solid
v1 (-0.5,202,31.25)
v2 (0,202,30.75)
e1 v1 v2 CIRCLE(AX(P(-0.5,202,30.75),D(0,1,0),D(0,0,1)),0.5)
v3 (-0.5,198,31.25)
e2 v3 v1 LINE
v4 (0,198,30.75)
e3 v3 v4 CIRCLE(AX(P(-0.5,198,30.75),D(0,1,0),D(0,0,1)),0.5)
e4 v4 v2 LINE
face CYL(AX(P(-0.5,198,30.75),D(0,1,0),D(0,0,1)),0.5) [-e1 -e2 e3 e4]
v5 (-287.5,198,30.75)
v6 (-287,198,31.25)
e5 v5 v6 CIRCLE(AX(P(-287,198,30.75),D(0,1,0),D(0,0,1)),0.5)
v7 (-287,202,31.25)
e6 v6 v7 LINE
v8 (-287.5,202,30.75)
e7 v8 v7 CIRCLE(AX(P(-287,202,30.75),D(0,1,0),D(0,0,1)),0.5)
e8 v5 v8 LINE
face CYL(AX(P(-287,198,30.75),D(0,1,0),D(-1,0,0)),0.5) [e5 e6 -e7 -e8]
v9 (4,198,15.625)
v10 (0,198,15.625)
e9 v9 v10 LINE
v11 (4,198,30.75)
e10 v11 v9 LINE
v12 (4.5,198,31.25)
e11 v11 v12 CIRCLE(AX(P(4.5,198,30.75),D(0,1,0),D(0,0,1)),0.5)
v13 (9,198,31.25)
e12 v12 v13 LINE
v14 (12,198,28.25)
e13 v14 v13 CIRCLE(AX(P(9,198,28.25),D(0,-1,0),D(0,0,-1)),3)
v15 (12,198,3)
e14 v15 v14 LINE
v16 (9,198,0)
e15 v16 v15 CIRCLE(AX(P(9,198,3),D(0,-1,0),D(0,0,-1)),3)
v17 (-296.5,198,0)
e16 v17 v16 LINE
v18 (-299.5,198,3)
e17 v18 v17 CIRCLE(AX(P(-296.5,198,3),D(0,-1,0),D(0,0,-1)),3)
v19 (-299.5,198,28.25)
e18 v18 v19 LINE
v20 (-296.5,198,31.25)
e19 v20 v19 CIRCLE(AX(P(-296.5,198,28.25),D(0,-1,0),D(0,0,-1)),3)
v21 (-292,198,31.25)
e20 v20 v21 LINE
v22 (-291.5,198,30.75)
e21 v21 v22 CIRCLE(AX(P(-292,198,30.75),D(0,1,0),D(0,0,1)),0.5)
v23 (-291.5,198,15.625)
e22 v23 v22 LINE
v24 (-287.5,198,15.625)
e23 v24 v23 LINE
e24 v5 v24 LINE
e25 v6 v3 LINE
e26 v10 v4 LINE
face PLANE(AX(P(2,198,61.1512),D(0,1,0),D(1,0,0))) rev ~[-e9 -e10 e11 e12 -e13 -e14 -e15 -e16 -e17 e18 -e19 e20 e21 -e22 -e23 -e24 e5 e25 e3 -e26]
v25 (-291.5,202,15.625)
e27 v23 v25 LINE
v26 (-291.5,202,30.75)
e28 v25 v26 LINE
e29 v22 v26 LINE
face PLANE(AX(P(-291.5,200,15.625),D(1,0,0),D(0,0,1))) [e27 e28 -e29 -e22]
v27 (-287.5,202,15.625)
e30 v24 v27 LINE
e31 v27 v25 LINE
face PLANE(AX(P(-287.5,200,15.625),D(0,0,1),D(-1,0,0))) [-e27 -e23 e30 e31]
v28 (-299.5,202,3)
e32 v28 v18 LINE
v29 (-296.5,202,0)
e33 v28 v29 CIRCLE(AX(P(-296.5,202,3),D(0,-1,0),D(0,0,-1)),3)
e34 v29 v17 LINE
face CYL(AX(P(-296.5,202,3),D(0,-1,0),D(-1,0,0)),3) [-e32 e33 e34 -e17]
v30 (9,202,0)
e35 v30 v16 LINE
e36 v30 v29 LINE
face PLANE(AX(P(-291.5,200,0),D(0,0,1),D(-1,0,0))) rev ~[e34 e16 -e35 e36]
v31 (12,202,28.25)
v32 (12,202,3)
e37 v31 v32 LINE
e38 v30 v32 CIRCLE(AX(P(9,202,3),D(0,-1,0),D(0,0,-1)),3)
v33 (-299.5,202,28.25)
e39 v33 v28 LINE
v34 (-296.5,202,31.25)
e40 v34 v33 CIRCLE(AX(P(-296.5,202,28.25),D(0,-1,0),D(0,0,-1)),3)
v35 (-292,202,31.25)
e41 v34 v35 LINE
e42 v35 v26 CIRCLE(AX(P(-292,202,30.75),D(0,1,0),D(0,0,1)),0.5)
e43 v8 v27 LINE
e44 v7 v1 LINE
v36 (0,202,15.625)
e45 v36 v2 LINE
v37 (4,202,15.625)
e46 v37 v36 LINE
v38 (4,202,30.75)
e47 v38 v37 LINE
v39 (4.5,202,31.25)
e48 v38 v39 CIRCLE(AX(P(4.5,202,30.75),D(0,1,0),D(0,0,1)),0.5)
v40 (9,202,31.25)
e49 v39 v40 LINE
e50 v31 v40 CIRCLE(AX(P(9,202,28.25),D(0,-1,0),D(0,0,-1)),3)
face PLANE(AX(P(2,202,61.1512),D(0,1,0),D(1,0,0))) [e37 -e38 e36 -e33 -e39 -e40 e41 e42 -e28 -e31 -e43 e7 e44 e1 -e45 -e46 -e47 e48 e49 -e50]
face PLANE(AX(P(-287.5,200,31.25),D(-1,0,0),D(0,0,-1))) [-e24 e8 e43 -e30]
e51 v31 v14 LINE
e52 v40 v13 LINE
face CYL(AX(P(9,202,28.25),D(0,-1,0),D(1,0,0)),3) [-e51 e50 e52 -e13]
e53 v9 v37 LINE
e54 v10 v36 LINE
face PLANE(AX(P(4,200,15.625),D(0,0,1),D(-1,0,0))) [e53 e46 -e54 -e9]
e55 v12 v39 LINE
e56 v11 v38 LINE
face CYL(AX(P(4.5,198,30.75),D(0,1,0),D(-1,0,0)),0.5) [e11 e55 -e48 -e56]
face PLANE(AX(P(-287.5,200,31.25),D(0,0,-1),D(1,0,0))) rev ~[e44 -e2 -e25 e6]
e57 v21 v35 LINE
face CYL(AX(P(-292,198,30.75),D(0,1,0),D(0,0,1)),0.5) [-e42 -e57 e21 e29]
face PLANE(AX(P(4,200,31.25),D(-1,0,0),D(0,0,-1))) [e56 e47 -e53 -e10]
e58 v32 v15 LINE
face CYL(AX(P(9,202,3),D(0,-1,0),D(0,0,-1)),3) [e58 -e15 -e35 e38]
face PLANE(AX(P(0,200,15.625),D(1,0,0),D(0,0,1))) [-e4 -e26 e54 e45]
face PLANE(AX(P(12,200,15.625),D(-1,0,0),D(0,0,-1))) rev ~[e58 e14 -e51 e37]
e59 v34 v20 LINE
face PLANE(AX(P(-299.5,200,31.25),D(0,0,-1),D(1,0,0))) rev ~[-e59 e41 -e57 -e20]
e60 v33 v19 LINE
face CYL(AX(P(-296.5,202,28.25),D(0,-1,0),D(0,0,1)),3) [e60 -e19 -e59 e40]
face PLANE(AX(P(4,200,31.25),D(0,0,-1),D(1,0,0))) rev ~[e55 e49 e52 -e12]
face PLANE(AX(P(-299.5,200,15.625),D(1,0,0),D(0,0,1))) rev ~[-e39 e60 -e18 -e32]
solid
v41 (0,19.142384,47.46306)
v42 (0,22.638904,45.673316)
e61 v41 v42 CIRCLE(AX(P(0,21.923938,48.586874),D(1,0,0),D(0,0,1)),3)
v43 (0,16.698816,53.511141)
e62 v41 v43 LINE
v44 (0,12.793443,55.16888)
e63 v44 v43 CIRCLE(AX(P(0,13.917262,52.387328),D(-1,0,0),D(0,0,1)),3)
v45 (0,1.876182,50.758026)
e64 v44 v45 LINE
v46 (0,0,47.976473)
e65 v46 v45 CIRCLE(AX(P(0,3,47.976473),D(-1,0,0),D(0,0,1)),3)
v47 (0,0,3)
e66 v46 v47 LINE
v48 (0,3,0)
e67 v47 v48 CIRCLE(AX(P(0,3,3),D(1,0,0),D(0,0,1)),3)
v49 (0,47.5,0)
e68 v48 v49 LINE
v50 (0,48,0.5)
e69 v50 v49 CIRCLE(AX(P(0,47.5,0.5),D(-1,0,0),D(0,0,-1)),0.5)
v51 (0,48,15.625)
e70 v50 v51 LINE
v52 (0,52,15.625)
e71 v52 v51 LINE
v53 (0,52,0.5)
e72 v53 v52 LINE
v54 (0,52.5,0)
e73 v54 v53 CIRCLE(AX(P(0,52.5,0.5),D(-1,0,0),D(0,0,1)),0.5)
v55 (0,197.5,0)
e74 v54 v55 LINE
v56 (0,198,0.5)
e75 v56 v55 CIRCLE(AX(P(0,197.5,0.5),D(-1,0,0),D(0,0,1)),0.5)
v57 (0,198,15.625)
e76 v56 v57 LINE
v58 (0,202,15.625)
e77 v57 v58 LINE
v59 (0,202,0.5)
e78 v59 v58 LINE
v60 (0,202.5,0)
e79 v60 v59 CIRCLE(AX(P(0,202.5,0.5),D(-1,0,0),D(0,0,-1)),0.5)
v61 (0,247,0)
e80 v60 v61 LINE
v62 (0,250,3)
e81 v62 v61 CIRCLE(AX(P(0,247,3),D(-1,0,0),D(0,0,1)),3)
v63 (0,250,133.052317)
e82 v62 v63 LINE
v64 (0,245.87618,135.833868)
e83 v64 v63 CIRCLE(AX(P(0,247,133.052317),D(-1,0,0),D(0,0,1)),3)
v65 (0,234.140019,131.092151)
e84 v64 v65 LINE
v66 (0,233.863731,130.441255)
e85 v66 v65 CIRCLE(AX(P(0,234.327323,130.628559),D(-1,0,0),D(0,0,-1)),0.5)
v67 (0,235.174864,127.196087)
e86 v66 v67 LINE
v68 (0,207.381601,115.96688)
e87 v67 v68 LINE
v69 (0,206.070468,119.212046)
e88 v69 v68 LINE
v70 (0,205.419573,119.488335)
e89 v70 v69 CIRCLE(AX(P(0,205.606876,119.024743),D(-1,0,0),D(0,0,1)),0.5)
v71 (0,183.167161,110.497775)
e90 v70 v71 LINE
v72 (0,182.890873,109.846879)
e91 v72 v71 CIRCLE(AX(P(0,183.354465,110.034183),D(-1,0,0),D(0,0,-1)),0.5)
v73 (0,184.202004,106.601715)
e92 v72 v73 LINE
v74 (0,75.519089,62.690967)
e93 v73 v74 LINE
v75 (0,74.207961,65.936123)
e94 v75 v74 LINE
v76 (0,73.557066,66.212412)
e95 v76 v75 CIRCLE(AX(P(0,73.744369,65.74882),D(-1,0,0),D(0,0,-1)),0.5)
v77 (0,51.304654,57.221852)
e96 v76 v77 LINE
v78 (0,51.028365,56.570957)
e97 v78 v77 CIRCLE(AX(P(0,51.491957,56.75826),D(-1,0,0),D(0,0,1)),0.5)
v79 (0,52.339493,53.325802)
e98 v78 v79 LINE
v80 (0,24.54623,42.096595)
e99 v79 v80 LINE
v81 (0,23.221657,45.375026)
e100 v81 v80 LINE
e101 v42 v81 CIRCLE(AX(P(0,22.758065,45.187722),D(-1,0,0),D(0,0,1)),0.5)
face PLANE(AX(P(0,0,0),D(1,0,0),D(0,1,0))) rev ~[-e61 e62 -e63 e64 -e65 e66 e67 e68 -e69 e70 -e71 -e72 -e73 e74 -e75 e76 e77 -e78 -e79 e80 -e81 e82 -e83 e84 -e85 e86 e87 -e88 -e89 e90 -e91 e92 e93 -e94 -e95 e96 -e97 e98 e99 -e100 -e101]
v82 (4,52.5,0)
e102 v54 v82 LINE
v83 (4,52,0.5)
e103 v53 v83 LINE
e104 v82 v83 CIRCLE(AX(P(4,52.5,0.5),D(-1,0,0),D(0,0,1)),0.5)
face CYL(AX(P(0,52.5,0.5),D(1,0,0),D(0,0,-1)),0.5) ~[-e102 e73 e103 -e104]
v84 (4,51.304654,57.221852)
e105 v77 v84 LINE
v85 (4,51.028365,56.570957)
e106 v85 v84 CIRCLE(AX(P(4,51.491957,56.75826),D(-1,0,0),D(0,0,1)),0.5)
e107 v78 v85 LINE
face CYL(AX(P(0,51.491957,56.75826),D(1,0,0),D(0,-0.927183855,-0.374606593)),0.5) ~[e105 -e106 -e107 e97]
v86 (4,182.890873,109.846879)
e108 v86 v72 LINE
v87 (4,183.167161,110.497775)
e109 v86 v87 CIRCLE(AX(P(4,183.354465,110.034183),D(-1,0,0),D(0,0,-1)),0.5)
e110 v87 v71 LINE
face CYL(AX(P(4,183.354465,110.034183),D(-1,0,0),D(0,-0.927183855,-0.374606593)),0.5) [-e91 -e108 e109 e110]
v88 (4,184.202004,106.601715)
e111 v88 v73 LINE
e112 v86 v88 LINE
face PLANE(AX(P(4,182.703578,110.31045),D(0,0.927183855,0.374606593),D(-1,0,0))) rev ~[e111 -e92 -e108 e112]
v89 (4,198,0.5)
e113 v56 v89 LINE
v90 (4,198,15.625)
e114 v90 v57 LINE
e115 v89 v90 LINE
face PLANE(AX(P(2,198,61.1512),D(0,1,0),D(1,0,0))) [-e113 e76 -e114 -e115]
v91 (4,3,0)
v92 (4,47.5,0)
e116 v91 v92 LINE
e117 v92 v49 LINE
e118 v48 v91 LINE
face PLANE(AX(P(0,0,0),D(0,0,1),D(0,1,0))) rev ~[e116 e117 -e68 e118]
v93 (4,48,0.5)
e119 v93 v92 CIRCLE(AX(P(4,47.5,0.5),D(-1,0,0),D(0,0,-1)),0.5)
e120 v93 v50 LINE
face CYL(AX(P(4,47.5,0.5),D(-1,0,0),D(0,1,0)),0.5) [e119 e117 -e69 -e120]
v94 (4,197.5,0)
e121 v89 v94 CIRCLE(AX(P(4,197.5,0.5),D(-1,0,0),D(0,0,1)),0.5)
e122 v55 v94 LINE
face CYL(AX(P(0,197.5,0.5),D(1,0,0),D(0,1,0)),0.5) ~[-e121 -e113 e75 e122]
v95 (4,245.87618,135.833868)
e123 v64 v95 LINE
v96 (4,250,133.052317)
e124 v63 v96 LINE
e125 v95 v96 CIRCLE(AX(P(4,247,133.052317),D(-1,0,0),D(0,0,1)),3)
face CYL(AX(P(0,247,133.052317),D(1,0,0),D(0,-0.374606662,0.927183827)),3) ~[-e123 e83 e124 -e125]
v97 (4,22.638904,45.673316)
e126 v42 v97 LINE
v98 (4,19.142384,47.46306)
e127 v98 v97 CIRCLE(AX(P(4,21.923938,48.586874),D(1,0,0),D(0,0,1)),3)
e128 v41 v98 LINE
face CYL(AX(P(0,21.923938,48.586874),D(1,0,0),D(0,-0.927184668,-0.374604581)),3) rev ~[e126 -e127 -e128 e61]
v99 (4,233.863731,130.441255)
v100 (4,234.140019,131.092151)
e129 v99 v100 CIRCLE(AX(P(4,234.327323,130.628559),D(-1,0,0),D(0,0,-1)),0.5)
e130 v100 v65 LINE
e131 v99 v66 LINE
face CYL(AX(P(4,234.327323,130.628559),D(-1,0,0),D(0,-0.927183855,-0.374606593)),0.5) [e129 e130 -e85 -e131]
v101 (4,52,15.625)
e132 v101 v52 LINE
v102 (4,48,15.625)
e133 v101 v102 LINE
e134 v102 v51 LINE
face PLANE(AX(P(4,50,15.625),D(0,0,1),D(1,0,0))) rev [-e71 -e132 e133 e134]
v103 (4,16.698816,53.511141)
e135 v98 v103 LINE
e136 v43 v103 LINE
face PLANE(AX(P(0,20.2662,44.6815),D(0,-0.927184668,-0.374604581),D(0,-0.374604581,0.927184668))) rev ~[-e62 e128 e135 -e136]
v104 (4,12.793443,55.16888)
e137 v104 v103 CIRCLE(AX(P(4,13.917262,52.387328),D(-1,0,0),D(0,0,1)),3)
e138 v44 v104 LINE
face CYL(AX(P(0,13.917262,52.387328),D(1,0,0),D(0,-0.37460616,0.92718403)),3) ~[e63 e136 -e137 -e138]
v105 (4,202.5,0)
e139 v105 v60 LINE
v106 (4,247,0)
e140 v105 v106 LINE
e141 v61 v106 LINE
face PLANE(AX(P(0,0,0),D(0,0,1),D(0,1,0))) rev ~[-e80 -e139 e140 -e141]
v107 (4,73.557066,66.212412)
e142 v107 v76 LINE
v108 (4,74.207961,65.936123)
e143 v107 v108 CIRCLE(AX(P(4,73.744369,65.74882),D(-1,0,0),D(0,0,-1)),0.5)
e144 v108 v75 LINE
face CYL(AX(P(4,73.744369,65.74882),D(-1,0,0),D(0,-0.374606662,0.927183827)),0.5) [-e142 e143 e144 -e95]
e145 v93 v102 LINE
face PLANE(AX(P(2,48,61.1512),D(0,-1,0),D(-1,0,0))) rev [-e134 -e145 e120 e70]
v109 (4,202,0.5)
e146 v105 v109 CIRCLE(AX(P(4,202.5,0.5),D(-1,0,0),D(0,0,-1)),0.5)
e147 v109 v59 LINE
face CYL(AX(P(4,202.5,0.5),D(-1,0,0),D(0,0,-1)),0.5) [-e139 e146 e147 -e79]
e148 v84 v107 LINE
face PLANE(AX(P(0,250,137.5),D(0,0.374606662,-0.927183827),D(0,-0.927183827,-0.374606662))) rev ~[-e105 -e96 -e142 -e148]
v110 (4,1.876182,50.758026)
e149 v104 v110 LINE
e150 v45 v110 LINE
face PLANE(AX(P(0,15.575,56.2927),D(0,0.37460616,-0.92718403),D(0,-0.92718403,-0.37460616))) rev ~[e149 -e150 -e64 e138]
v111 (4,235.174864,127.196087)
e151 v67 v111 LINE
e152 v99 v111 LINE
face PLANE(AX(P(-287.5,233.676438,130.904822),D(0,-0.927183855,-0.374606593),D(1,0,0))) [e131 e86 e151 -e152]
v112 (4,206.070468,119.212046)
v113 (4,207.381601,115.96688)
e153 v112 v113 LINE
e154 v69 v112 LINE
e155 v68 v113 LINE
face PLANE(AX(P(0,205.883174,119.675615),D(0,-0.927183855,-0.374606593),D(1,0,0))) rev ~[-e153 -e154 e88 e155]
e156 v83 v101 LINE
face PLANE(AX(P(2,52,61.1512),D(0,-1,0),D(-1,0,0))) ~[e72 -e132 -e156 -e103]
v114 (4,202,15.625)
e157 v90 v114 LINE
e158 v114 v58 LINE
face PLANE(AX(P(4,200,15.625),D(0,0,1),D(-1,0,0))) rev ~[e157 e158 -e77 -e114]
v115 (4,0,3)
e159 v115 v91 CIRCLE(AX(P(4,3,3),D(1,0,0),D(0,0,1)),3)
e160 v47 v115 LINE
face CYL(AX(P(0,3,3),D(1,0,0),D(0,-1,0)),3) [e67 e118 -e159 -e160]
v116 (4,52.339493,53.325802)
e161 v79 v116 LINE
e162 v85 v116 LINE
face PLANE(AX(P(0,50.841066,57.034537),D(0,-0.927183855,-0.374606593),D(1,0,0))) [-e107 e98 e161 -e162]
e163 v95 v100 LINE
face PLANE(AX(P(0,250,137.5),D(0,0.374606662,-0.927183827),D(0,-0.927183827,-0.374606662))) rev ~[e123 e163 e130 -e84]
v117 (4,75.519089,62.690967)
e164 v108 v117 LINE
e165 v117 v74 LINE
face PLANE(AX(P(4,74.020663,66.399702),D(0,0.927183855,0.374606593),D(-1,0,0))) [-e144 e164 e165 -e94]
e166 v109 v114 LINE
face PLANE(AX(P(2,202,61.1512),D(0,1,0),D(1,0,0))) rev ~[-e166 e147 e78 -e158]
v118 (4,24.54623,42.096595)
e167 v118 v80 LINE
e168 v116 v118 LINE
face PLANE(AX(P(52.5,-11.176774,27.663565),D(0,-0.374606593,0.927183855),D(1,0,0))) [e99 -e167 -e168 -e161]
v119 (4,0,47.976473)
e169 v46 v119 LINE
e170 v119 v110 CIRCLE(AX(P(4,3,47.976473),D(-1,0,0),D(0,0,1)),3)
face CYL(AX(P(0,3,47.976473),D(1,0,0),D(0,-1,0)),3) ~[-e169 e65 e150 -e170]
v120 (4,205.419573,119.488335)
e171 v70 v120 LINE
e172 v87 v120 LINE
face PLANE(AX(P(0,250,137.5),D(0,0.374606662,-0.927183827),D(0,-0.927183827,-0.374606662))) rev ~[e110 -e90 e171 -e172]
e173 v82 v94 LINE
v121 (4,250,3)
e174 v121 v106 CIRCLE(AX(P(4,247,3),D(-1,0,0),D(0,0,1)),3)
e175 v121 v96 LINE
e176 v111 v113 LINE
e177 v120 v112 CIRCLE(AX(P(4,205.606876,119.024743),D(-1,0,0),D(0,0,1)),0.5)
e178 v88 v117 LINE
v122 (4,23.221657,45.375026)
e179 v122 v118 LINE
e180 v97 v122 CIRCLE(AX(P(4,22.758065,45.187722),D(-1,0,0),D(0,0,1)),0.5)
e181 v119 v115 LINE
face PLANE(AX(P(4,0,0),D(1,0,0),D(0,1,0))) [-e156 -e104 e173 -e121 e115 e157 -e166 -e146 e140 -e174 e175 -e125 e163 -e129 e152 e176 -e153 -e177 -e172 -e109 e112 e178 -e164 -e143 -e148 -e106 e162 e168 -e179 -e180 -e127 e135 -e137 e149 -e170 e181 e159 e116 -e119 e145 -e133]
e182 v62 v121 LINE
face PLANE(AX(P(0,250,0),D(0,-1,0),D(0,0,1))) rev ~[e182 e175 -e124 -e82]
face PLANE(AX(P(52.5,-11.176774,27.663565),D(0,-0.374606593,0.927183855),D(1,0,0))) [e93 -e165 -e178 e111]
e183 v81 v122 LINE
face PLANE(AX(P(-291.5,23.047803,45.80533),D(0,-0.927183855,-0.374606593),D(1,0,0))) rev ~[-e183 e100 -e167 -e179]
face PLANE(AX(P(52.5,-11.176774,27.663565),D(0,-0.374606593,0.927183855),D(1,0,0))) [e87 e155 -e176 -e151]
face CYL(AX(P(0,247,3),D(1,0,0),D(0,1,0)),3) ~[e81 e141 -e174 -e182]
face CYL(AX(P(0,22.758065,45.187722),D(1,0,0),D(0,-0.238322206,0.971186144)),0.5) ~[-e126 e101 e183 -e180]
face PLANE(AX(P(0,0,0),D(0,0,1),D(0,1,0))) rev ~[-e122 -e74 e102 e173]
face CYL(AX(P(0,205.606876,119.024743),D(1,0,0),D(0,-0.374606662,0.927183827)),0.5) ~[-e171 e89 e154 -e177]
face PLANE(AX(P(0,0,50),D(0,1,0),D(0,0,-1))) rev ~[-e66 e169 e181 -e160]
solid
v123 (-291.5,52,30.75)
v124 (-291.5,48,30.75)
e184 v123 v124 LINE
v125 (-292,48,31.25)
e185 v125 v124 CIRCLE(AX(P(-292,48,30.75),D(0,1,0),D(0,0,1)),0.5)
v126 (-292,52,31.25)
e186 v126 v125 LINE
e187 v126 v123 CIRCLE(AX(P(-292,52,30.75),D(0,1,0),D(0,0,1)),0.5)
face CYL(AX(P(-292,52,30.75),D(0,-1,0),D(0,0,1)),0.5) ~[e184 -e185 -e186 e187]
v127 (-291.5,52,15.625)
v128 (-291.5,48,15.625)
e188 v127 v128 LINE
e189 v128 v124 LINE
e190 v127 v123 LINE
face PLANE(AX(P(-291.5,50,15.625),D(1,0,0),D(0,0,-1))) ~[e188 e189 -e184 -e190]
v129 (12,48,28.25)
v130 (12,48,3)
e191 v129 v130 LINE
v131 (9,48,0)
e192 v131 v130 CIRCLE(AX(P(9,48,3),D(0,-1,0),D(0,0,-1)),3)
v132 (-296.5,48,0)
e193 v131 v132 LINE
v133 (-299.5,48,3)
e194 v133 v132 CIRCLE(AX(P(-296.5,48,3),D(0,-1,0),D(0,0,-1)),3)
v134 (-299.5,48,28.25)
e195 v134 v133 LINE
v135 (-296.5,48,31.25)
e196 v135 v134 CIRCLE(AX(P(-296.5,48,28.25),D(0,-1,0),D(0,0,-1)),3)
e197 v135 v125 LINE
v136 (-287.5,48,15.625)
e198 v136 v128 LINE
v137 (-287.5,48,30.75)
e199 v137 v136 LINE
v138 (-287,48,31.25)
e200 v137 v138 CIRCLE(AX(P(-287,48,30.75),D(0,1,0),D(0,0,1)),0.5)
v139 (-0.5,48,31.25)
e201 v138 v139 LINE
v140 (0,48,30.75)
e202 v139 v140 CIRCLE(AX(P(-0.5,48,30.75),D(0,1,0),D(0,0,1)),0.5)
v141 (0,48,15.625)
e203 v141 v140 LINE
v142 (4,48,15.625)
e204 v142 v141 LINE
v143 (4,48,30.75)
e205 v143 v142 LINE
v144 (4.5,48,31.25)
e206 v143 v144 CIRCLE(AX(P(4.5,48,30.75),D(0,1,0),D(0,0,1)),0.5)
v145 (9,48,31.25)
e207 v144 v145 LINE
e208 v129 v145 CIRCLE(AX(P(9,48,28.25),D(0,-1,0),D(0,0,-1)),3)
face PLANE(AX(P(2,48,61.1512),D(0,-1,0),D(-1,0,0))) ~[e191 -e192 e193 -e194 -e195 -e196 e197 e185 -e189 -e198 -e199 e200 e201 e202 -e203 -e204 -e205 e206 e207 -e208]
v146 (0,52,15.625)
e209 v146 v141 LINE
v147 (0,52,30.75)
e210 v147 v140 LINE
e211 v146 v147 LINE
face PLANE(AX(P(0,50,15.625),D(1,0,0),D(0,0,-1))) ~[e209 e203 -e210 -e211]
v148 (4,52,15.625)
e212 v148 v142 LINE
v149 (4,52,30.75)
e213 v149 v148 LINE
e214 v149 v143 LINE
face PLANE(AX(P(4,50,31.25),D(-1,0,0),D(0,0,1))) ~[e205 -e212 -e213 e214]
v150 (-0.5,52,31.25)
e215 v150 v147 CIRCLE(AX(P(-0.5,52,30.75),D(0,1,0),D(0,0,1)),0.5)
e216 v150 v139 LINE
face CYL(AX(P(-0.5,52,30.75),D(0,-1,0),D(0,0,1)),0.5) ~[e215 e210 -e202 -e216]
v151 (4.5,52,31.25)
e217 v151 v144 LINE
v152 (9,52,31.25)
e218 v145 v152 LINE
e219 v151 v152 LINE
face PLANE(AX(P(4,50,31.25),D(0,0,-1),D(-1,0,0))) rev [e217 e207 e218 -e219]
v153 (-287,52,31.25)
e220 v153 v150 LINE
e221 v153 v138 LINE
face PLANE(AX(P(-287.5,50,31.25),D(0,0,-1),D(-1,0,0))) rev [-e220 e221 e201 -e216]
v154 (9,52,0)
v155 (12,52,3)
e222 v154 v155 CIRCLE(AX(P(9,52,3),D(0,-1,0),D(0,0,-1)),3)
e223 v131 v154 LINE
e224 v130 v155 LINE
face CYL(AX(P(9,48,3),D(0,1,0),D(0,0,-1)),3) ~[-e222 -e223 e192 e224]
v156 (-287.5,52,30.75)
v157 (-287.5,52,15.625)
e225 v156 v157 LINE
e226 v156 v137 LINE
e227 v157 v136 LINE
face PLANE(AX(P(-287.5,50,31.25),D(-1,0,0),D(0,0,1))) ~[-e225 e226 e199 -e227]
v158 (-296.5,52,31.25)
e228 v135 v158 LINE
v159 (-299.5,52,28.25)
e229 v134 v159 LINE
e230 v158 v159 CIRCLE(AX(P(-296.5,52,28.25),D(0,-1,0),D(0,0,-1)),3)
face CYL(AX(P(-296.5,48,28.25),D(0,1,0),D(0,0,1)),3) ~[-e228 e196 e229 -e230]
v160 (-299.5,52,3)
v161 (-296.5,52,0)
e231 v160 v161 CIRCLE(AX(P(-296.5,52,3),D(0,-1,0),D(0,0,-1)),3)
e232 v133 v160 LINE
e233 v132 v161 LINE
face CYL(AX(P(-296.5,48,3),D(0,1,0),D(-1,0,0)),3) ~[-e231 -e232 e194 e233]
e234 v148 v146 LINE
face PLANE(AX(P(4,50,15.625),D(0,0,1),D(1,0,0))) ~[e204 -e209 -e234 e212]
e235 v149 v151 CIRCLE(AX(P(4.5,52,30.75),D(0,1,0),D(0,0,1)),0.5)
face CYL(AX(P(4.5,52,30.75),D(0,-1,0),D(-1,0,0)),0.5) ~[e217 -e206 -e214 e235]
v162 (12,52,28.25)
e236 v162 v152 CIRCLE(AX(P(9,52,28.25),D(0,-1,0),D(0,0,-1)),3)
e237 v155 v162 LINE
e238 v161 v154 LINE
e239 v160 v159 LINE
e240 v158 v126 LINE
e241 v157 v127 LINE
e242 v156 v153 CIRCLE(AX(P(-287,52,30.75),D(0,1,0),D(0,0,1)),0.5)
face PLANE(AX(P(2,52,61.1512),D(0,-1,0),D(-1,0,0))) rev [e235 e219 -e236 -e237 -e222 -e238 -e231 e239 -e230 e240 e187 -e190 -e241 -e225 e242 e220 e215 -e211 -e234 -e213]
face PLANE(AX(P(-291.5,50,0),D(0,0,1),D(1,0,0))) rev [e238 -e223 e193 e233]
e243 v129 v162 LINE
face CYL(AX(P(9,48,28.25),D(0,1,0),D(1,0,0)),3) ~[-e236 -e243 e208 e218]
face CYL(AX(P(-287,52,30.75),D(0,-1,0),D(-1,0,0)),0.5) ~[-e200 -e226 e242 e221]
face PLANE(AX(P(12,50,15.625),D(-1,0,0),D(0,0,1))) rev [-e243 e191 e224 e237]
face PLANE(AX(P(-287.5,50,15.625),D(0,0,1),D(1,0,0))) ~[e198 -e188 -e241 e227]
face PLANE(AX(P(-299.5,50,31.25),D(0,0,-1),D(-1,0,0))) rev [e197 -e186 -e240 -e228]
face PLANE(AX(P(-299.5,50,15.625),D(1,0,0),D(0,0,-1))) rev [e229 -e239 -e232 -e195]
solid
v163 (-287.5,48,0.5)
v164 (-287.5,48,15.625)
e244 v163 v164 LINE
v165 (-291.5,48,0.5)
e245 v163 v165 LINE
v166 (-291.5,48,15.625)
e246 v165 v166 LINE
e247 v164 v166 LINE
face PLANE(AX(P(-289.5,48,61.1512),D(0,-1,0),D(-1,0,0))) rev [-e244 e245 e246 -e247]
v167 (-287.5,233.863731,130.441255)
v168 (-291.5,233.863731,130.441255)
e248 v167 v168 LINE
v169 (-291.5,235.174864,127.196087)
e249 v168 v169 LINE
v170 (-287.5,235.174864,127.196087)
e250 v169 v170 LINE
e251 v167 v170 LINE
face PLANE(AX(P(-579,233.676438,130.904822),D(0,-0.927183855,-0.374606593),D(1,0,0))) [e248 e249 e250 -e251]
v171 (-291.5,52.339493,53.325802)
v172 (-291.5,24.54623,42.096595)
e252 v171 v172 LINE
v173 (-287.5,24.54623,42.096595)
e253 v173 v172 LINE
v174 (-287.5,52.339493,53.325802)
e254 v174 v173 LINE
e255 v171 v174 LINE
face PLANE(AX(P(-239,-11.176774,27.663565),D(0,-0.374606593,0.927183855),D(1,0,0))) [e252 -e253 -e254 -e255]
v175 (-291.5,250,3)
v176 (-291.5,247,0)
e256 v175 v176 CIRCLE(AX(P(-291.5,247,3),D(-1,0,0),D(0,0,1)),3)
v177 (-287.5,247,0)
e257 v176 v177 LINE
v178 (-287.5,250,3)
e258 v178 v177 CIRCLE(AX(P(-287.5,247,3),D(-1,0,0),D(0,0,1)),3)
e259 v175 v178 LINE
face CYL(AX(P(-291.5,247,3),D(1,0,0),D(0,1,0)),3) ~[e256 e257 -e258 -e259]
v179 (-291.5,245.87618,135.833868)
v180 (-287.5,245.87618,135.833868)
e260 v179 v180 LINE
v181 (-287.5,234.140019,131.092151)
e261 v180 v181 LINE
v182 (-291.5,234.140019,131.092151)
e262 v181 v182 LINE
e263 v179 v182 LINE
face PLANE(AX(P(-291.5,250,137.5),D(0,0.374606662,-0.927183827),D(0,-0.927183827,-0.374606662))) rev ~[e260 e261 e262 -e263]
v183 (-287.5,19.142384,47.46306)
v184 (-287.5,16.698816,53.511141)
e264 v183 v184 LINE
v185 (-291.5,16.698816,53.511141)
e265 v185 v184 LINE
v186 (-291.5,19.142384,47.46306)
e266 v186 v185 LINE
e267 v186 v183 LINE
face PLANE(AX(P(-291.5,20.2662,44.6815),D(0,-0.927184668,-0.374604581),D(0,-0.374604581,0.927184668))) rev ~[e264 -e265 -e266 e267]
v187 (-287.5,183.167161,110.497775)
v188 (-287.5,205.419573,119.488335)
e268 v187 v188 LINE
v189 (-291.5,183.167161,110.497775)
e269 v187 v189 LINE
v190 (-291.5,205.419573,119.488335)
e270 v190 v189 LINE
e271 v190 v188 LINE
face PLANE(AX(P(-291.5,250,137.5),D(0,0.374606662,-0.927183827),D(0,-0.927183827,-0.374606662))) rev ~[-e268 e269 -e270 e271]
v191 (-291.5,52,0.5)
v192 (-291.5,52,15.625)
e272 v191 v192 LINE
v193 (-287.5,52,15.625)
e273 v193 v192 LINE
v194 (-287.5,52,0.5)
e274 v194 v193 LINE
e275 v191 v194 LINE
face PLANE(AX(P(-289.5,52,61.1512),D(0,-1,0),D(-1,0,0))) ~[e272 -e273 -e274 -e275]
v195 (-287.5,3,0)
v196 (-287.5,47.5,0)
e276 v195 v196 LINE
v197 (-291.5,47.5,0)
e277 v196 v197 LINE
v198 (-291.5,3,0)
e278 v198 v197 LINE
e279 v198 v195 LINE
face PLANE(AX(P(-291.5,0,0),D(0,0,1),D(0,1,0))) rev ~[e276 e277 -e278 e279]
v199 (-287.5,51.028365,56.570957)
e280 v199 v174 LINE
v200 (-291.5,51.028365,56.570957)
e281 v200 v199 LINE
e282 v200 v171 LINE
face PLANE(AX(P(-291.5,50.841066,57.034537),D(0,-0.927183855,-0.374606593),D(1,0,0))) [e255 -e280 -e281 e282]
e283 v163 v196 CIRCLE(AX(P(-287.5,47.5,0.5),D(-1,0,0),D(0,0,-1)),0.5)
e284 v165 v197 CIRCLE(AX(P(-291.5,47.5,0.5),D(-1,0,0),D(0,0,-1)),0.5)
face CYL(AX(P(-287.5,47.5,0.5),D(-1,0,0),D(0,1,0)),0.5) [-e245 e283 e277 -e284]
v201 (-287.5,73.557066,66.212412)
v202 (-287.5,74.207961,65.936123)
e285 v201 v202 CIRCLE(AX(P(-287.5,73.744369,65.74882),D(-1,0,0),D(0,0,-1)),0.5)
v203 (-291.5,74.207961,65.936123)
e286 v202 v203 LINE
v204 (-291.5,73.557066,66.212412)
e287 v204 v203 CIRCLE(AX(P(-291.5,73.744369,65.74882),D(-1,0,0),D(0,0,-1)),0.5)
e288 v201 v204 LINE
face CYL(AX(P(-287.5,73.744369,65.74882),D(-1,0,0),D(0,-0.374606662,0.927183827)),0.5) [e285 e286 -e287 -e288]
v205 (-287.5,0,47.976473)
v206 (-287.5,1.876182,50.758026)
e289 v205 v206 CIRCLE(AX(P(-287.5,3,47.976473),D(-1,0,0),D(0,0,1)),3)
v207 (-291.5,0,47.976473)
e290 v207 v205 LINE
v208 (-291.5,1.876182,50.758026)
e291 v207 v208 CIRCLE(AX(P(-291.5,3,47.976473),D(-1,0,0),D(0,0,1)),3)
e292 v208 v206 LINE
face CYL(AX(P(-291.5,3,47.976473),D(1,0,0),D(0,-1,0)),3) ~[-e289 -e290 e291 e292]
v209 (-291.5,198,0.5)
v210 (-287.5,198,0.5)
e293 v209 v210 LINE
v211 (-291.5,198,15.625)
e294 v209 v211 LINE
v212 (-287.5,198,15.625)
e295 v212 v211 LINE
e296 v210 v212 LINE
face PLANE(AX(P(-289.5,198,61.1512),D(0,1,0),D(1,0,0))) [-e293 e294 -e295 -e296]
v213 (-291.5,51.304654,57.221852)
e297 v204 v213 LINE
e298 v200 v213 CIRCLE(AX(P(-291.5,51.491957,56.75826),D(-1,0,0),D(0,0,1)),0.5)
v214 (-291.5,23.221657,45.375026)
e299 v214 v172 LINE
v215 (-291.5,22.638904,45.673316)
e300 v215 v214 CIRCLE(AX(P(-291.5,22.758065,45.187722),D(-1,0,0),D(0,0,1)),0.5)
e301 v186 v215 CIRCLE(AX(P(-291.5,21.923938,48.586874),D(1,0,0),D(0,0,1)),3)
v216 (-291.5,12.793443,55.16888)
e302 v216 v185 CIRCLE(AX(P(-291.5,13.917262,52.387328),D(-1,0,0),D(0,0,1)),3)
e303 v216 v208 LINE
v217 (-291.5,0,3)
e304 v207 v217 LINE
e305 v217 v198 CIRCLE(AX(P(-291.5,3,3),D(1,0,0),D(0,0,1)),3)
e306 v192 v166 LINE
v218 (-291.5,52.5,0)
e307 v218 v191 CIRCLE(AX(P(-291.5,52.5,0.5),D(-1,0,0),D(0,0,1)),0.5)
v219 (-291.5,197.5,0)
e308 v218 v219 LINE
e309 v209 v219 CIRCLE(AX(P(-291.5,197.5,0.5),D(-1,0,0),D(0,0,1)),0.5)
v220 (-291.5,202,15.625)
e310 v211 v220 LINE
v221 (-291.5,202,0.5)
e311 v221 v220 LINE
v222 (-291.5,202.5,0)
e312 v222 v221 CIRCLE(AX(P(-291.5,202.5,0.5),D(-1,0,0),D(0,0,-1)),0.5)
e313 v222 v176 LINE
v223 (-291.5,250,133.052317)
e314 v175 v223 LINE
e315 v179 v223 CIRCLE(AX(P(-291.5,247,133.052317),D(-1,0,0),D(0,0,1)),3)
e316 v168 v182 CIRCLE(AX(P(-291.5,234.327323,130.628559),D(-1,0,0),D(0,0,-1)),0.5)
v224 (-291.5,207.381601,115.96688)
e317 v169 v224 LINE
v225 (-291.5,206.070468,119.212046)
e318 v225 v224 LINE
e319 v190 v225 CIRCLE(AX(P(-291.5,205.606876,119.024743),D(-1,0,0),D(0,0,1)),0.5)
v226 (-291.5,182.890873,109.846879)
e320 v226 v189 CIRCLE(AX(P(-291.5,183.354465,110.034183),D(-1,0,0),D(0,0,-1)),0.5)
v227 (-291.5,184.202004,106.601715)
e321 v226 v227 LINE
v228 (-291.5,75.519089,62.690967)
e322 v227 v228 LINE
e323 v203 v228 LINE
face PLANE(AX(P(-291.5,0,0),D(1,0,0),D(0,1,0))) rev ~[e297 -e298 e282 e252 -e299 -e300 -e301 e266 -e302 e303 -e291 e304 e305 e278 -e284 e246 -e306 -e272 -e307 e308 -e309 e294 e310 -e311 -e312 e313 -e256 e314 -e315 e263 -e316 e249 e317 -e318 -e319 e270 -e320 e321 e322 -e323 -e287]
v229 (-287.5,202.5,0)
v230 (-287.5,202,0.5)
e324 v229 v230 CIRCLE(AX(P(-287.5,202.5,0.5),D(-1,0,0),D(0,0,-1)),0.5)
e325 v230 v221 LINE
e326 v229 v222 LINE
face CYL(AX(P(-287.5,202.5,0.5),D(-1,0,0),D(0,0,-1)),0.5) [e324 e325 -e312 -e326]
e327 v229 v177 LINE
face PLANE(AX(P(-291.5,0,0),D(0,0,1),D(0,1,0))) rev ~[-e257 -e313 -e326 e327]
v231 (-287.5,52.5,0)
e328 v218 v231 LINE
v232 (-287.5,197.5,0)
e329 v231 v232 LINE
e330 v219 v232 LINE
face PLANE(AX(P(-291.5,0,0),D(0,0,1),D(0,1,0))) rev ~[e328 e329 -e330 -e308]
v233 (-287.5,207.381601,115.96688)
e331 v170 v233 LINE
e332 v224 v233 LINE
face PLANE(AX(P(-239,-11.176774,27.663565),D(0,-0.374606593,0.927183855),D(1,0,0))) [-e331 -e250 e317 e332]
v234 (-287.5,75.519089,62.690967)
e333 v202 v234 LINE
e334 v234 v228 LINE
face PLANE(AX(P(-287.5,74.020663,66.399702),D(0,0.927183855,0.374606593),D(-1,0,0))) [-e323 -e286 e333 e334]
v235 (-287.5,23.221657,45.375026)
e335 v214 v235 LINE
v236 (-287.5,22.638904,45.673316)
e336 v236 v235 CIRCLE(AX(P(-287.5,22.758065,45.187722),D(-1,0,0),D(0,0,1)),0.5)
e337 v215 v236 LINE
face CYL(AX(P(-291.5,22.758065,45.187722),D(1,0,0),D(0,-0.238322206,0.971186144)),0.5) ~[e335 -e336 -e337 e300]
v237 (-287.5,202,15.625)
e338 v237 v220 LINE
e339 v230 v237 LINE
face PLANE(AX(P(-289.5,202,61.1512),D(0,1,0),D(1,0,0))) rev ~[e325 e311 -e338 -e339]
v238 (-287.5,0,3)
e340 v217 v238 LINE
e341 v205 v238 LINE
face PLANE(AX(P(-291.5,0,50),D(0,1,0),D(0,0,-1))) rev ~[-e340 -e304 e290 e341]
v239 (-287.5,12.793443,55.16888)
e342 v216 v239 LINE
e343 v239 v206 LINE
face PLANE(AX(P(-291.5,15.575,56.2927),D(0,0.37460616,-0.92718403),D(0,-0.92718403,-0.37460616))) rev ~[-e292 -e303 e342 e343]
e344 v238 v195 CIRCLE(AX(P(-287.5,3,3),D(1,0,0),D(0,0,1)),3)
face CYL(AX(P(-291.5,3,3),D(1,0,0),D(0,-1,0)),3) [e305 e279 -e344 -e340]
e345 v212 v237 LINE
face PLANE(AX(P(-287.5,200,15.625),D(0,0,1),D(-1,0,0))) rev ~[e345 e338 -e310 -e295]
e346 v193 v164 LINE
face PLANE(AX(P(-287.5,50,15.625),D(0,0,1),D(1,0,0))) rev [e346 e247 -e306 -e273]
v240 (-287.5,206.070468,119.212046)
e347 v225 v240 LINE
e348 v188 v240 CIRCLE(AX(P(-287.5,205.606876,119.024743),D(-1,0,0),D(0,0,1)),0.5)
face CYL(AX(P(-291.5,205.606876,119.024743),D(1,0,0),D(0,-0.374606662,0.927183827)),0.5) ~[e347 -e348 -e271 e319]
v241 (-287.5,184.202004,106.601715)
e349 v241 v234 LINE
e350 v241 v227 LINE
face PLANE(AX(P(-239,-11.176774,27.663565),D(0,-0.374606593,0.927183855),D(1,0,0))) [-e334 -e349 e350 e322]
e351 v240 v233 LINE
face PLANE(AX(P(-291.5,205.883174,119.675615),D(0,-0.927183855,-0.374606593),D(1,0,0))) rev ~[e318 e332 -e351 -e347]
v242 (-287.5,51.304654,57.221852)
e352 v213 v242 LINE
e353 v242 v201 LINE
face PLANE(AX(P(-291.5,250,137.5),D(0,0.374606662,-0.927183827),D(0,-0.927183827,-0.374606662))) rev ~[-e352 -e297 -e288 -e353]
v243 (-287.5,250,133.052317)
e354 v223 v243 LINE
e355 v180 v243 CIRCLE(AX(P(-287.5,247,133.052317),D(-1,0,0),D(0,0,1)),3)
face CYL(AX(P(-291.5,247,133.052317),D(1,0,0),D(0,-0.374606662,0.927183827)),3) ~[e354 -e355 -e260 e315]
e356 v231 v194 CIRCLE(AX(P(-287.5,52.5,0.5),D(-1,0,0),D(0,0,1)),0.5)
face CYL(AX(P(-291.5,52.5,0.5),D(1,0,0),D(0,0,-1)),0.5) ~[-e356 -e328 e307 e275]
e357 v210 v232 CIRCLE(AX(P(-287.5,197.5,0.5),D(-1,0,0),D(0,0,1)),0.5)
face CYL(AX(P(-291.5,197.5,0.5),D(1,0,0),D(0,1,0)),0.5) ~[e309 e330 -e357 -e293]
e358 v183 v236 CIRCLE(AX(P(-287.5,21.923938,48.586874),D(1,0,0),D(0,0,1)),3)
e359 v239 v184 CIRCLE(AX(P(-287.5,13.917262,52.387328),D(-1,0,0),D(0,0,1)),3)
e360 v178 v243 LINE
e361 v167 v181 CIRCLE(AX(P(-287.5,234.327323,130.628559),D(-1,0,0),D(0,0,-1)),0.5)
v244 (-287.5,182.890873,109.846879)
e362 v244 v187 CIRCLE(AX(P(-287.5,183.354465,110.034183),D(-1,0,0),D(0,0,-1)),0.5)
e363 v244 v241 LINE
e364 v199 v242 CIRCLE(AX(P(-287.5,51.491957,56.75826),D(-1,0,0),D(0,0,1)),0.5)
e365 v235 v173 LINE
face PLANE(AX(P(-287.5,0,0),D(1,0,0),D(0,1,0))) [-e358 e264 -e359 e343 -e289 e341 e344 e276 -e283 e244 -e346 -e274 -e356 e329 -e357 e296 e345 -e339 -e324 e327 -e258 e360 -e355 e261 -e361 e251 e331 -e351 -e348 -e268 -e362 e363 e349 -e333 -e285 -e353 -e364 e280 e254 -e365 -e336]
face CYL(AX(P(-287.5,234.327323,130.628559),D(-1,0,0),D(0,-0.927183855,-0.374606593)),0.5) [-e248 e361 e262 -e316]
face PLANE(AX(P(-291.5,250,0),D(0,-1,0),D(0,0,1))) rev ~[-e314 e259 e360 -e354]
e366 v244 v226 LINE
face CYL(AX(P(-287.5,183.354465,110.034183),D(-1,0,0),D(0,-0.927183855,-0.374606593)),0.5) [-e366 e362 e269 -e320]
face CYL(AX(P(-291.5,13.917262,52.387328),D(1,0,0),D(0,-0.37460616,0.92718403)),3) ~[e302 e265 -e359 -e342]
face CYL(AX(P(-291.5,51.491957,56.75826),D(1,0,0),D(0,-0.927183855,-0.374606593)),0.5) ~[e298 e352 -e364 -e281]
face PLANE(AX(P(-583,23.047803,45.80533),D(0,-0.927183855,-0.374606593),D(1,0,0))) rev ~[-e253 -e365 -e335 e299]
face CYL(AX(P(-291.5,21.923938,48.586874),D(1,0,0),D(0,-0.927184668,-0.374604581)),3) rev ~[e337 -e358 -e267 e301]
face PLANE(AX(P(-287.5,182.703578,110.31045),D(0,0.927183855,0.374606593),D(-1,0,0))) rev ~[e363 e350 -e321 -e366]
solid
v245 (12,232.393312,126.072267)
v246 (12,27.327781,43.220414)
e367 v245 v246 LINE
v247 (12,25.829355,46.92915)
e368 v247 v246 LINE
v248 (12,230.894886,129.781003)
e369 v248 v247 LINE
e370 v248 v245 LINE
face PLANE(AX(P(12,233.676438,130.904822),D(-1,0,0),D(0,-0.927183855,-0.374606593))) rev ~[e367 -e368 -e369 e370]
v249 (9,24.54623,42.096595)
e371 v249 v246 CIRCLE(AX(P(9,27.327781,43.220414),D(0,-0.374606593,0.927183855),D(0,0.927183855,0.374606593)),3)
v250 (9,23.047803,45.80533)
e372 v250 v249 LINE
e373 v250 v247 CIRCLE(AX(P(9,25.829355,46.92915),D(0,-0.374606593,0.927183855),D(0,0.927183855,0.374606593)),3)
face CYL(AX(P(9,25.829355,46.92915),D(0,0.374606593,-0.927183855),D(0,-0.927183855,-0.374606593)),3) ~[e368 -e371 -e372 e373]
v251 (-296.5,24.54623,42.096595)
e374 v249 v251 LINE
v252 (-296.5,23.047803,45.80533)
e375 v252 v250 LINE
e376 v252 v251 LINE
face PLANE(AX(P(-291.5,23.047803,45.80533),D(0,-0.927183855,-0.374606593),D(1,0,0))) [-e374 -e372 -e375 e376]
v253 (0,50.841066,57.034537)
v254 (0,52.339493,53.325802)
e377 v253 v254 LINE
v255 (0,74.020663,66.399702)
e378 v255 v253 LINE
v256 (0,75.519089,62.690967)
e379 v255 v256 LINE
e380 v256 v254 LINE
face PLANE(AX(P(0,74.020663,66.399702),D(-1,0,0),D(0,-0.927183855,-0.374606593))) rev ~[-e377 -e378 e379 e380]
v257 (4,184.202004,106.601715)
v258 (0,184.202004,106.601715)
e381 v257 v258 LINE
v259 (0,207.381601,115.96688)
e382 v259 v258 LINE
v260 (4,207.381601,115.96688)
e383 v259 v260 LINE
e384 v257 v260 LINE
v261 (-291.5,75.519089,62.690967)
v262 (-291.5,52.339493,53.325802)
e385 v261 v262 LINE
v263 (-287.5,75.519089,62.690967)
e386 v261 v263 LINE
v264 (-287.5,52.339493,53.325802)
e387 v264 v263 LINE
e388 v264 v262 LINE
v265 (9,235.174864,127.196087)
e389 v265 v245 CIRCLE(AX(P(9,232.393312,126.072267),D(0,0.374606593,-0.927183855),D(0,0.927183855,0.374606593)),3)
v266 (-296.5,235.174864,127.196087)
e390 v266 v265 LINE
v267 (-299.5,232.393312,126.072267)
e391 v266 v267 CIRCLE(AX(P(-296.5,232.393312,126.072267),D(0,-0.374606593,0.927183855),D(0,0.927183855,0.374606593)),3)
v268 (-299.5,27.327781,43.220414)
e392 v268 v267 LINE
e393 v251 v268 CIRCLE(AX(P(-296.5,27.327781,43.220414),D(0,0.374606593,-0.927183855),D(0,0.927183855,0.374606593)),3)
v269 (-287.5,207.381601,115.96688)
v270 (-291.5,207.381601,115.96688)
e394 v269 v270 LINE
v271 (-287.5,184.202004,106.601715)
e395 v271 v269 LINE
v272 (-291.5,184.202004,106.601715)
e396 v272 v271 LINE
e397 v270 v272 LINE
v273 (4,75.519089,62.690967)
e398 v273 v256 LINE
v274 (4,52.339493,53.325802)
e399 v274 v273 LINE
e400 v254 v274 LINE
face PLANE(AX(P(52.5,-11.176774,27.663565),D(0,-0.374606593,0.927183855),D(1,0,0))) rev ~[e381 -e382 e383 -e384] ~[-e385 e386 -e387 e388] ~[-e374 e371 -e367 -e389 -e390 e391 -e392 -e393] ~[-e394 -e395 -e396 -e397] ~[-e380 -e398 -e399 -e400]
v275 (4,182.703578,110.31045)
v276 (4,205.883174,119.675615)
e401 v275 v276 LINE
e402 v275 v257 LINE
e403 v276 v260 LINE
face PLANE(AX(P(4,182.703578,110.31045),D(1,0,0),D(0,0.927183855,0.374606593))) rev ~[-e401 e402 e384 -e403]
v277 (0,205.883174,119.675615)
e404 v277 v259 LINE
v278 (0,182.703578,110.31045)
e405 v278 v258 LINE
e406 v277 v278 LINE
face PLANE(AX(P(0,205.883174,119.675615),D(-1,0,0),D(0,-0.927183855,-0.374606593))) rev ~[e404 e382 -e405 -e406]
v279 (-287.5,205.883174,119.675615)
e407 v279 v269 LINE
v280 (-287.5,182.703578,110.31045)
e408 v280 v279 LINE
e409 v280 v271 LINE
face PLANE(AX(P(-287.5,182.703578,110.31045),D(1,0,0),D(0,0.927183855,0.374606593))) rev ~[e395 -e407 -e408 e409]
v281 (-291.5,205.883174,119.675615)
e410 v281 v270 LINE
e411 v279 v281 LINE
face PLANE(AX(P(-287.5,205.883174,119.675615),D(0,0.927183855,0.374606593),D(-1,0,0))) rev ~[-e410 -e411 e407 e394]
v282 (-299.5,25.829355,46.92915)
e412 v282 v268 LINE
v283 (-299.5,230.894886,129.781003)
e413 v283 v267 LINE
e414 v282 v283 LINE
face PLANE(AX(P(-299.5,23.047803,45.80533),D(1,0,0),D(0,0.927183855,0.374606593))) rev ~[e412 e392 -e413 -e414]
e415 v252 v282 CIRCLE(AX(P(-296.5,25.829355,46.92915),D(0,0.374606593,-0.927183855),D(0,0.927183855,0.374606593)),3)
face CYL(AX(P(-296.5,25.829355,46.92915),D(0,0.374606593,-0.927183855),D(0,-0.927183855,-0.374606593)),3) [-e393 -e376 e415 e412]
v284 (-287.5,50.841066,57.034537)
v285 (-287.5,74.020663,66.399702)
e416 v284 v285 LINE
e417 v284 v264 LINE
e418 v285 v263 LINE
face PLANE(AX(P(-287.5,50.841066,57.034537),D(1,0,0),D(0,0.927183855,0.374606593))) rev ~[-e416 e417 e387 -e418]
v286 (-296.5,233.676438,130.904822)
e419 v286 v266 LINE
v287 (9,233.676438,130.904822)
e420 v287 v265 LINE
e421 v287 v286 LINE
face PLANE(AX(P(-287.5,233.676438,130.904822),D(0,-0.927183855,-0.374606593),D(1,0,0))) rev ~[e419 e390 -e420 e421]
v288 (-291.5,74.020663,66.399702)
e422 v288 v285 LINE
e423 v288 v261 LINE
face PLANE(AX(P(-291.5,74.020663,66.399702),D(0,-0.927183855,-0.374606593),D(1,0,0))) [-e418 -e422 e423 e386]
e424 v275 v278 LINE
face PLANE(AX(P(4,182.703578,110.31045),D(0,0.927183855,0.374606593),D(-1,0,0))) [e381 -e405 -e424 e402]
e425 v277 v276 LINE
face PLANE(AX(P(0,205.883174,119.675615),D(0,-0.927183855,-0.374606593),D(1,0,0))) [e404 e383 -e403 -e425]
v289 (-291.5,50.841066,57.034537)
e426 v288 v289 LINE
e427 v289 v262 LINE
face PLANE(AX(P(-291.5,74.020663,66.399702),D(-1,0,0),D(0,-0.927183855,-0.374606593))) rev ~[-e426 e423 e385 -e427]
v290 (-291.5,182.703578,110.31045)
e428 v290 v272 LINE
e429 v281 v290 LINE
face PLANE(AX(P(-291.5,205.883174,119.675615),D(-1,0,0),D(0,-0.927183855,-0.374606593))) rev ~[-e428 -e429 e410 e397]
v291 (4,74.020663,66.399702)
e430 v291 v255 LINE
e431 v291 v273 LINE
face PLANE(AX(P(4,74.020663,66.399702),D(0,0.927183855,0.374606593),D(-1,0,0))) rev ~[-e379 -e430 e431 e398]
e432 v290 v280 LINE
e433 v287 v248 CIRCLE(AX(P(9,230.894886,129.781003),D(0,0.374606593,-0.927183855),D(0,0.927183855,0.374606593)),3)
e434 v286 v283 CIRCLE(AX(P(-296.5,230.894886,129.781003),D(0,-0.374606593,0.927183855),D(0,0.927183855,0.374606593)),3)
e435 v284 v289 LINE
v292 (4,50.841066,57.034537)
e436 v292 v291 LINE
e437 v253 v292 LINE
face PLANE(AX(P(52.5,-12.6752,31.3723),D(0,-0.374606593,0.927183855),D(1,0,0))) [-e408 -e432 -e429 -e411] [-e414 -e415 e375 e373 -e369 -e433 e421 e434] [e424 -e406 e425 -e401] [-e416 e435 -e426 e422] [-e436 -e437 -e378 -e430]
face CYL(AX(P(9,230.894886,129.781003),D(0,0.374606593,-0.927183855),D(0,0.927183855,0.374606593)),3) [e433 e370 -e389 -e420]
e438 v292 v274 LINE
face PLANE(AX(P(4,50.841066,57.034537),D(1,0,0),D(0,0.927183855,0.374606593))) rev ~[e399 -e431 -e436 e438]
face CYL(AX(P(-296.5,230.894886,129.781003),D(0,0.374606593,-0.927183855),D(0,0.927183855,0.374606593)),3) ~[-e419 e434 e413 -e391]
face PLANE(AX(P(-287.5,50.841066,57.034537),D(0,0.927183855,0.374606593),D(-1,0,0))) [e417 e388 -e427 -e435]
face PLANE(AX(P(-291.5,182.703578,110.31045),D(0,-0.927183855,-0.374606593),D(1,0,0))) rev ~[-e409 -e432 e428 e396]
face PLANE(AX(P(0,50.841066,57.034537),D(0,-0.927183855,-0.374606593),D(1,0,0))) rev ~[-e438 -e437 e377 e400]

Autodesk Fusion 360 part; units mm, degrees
sketch "Left side" plane through (0, 0, 0) normal (1, 0, 0) x (0, 1, 0) in component "Leg"
  line L0 (0, 0) -> (250, 0)
  line L1 (250, 0) -> (250, 137.5)
  line L2 (250, 137.5) -> (20.2662, 44.6815)
  line L3 (20.2662, 44.6815) -> (15.575, 56.2927)
  line L4 (15.575, 56.2927) -> (0, 50)
  line L5 (0, 50) -> (0, 0)
  line L6 (20.2662, 44.6815) -> (250, 137.5)
  dimension "d2" = 250
  dimension "d4" = 137.5
  dimension "d6" = 50
  dimension "d7" = 22
  dimension "d9" = 15.575
  dimension "d46" = 90
extrude "Extrude1" add sketch "Left side" along normal blind 4 makes body 1 in component "Leg"
fillet "Fillet1" radius 3 6 edges at (2, 250, 137.5) (2, 15.575, 56.2927) (2, 0, 50) (2, 20.2662, 44.6815) (2, 0, 0) (2, 250, 0) on bodies 1 in component "Leg"
sketch "Table" plane through (52.5, -12.6752, 31.3723) normal (0, -0.3746, 0.9272) x (1, 0, 0) in component "Table"
  line L0 (-344, 38.5285) -> (-340, 38.5285)
  line L1 (-340, 38.5285) -> (-340, 278.8567)
  line L2 (-340, 278.8567) -> (-344, 278.8567)
  line L3 (-344, 278.8567) -> (-344, 38.5285)
  line L4 (-52.5, 38.5285) -> (-48.5, 38.5285)
  line L5 (-48.5, 38.5285) -> (-48.5, 278.8567)
  line L6 (-48.5, 278.8567) -> (-52.5, 278.8567)
  line L7 (-52.5, 278.8567) -> (-52.5, 38.5285)
  line L8 (-352, 265.6988) -> (-40.5, 265.6988)
  line L9 (-40.5, 265.6988) -> (-40.5, 38.5285)
  line L10 (-40.5, 38.5285) -> (-352, 38.5285)
  line L11 (-352, 38.5285) -> (-352, 265.6988)
  line L12 (-52.5, 235.7228) -> (-48.5, 235.7228)
  line L13 (-48.5, 235.7228) -> (-48.5, 210.7228)
  line L14 (-48.5, 210.7228) -> (-52.5, 210.7228)
  line L15 (-52.5, 210.7228) -> (-52.5, 235.7228)
  line L16 (-196.25, 265.6988) -> (-196.25, 38.5285) construction
  line L17 (-352, 152.1137) -> (-40.5, 152.1137) construction
  line L18 (-340, 235.7228) -> (-344, 235.7228)
  line L19 (-340, 210.7228) -> (-340, 235.7228)
  line L20 (-344, 235.7228) -> (-344, 210.7228)
  line L21 (-344, 210.7228) -> (-340, 210.7228)
  line L22 (-340, 93.5045) -> (-340, 68.5045)
  line L23 (-344, 68.5045) -> (-344, 93.5045)
  line L24 (-340, 68.5045) -> (-344, 68.5045)
  line L25 (-344, 93.5045) -> (-340, 93.5045)
  line L26 (-48.5, 93.5045) -> (-52.5, 93.5045)
  line L27 (-52.5, 93.5045) -> (-52.5, 68.5045)
  line L28 (-48.5, 68.5045) -> (-48.5, 93.5045)
  line L29 (-52.5, 68.5045) -> (-48.5, 68.5045)
  dimension "d22" = 13.1579
  dimension "d23" = 8
  dimension "d24" = 8
  dimension "d25" = 25
  dimension "d26" = 29.976
extrude "Extrude1'" add sketch "Table" against normal blind 4 separate body contours L0 L1 L3 L10 L24 | L3 L8 L10 L11 L20 L23 | L1 L7 L8 L10 L15 L19 L22 L27 | L4 L5 L7 L10 L29 | L1 L3 L21 L25 | L5 L8 L9 L10 L13 L28 | L1 L3 L8 L18 | L5 L7 L14 L26 | L5 L7 L8 L12 makes body 2 in component "Table"
combine "Combine1" operation cut target body 1 tool bodies 2 keep tools in component "Leg"
fillet "Fillet1'" radius 3 4 edges at (12, 23.797, 43.951) (12, 234.4256, 129.0505) (-299.5, 23.797, 43.951) (-299.5, 234.4256, 129.0505) on bodies 2 in component "Table"
ref_plane "WorkPlane1" through (2, 200, 68.0262) normal (0, 1, 0) x (0, 0, 1) in component "Support"
sketch "Sketch1" plane through (2, 200, 61.1512) normal (0, 1, 0) x (1, 0, 0) in component "Support"
  line L0 (-293.5, -56.1475) -> (-289.5, -56.1475)
  line L1 (-289.5, -56.1475) -> (-289.5, 61.1512)
  line L2 (-289.5, 61.1512) -> (-293.5, 61.1512)
  line L3 (-293.5, 61.1512) -> (-293.5, -56.1475)
  line L4 (-2, -56.1475) -> (2, -56.1475)
  line L5 (2, -56.1475) -> (2, 61.1512)
  line L6 (2, 61.1512) -> (-2, 61.1512)
  line L7 (-2, 61.1512) -> (-2, -56.1475)
  line L8 (10, 61.1512) -> (-301.5, 61.1512)
  line L9 (-301.5, 61.1512) -> (-301.5, 29.9012)
  line L10 (-301.5, 29.9012) -> (10, 29.9012)
  line L11 (10, 29.9012) -> (10, 61.1512)
  line L12 (-301.5, 17.9307) -> (-301.5, -64.9211)
  line L13 (10, -64.9211) -> (10, 17.9307)
  line L14 (10, 45.5262) -> (-301.5, 45.5262)
  dimension "d33" = 31.25
extrude "Extrude1''" add sketch "Sketch1" along normal mid plane 4 separate body contours L3 L9 L10 L14 | L1 L7 L10 L14 | L3 L8 L9 L14 | L1 L2 L3 L8 L14 | L1 L7 L8 L14 | L5 L6 L7 L8 L14 | L5 L10 L11 L14 | L5 L8 L11 L14 makes body 3 in component "Support"
ref_plane "WorkPlane2" through (2, 125, 68.0262) normal (0, 1, 0) x (0, 0, 1) in component "Support"
fillet "Fillet1''" radius 3 4 edges at (12, 200, 31.25) (12, 200, 0) (-299.5, 200, 31.25) (-299.5, 200, 0) on bodies 3 in component "Support"
fillet "Fillet2" radius 0.5 4 edges at (4, 200, 31.25) (0, 200, 31.25) (-287.5, 200, 31.25) (-291.5, 200, 31.25) on bodies 3 in component "Support"
mirror "Mirror1" about plane through (2, 125, 68.0262) normal (0, 1, 0) of bodies 3 makes body 4 in component "Support"
combine "Combine2" operation cut target body 1 tool bodies 4 3 keep tools in component "Leg"
fillet "Fillet2'" radius 0.5 10 edges at (2, 198, 0) (2, 202, 0) (2, 52, 0) (2, 48, 0) (2, 23.0478, 45.8053) (2, 74.0207, 66.3997) (2, 205.8831, 119.6756) (2, 233.6764, 130.9048) (2, 50.8411, 57.0346) (2, 182.7035, 110.3105) on bodies 1 in component "Leg"
sketch "Leg DXF" plane through (4, 0, 0) normal (1, 0, 0) x (0, 1, 0)
  arc A0 (183.1671, 110.4978) -> (182.8908, 109.8469) centre (183.3544, 110.0342) ccw
  line L0 (182.8908, 109.8469) -> (184.2019, 106.6017)
  line L1 (184.2019, 106.6017) -> (75.5191, 62.691)
  line L2 (75.5191, 62.691) -> (74.208, 65.9361)
  arc A1 (74.208, 65.9361) -> (73.5571, 66.2124) centre (73.7444, 65.7488) ccw
  line L3 (73.5571, 66.2124) -> (51.3046, 57.2219)
  arc A2 (51.3046, 57.2219) -> (51.0284, 56.571) centre (51.4919, 56.7583) ccw
  line L4 (51.0284, 56.571) -> (52.3395, 53.3258)
  line L5 (52.3395, 53.3258) -> (24.5462, 42.0966)
  line L6 (24.5462, 42.0966) -> (23.2216, 45.375)
  arc A3 (23.2216, 45.375) -> (22.6389, 45.6733) centre (22.758, 45.1877) ccw
  arc A4 (19.1424, 47.4631) -> (22.6389, 45.6733) centre (21.924, 48.5869) ccw
  line L7 (19.1424, 47.4631) -> (16.6988, 53.5112)
  arc A5 (16.6988, 53.5112) -> (12.7934, 55.1689) centre (13.9173, 52.3873) ccw
  line L8 (12.7934, 55.1689) -> (1.8762, 50.758)
  arc A6 (1.8762, 50.758) -> (0, 47.9765) centre (3, 47.9765) ccw
  line L9 (0, 47.9765) -> (0, 3)
  arc A7 (0, 3) -> (3, 0) centre (3, 3) ccw
  line L10 (3, 0) -> (47.5, 0)
  arc A8 (47.5, 0) -> (48, 0.5) centre (47.5, 0.5) ccw
  line L11 (48, 0.5) -> (48, 15.625)
  line L12 (48, 15.625) -> (52, 15.625)
  line L13 (52, 15.625) -> (52, 0.5)
  arc A9 (52, 0.5) -> (52.5, 0) centre (52.5, 0.5) ccw
  line L14 (52.5, 0) -> (197.5, 0)
  arc A10 (197.5, 0) -> (198, 0.5) centre (197.5, 0.5) ccw
  line L15 (198, 0.5) -> (198, 15.625)
  line L16 (198, 15.625) -> (202, 15.625)
  line L17 (202, 15.625) -> (202, 0.5)
  arc A11 (202, 0.5) -> (202.5, 0) centre (202.5, 0.5) ccw
  line L18 (202.5, 0) -> (247, 0)
  arc A12 (247, 0) -> (250, 3) centre (247, 3) ccw
  line L19 (250, 3) -> (250, 133.0523)
  arc A13 (250, 133.0523) -> (245.8762, 135.8339) centre (247, 133.0523) ccw
  line L20 (245.8762, 135.8339) -> (234.14, 131.0921)
  arc A14 (234.14, 131.0921) -> (233.8637, 130.4412) centre (234.3273, 130.6285) ccw
  line L21 (233.8637, 130.4412) -> (235.1748, 127.1961)
  line L22 (235.1748, 127.1961) -> (207.3815, 115.9669)
  line L23 (207.3815, 115.9669) -> (206.0704, 119.212)
  arc A15 (206.0704, 119.212) -> (205.4195, 119.4883) centre (205.6068, 119.0247) ccw
  line L24 (205.4195, 119.4883) -> (183.1671, 110.4978)
sketch "Table DXF" plane through (0, -12.6752, 31.3723) normal (0, -0.3746, 0.9272) x (1, 0, 0)
  arc A0 (-296.5, 265.6988) -> (-299.5, 262.6988) centre (-296.5, 262.6988) ccw
  line L0 (-299.5, 262.6988) -> (-299.5, 41.5285)
  arc A1 (-299.5, 41.5285) -> (-296.5, 38.5285) centre (-296.5, 41.5285) ccw
  line L1 (-296.5, 38.5285) -> (9, 38.5285)
  arc A2 (9, 38.5285) -> (12, 41.5285) centre (9, 41.5285) ccw
  line L2 (12, 41.5285) -> (12, 262.6988)
  arc A3 (12, 262.6988) -> (9, 265.6988) centre (9, 262.6988) ccw
  line L3 (9, 265.6988) -> (-296.5, 265.6988)
  line L4 (-287.5, 210.7228) -> (-291.5, 210.7228)
  line L5 (-291.5, 210.7228) -> (-291.5, 235.7228)
  line L6 (-291.5, 235.7228) -> (-287.5, 235.7228)
  line L7 (-287.5, 235.7228) -> (-287.5, 210.7228)
  line L8 (4, 68.5045) -> (0, 68.5045)
  line L9 (0, 68.5045) -> (0, 93.5045)
  line L10 (0, 93.5045) -> (4, 93.5045)
  line L11 (4, 93.5045) -> (4, 68.5045)
  line L12 (-291.5, 68.5045) -> (-291.5, 93.5045)
  line L13 (-291.5, 93.5045) -> (-287.5, 93.5045)
  line L14 (-287.5, 93.5045) -> (-287.5, 68.5045)
  line L15 (-287.5, 68.5045) -> (-291.5, 68.5045)
  line L16 (4, 210.7228) -> (0, 210.7228)
  line L17 (0, 210.7228) -> (0, 235.7228)
  line L18 (0, 235.7228) -> (4, 235.7228)
  line L19 (4, 235.7228) -> (4, 210.7228)
sketch "Support DXF" plane through (0, 48, 0) normal (0, -1, 0) x (1, 0, 0)
  arc A0 (-291.5, 30.75) -> (-292, 31.25) centre (-292, 30.75) ccw
  line L0 (-292, 31.25) -> (-296.5, 31.25)
  arc A1 (-296.5, 31.25) -> (-299.5, 28.25) centre (-296.5, 28.25) ccw
  line L1 (-299.5, 28.25) -> (-299.5, 3)
  arc A2 (-299.5, 3) -> (-296.5, 0) centre (-296.5, 3) ccw
  line L2 (-296.5, 0) -> (9, 0)
  arc A3 (9, 0) -> (12, 3) centre (9, 3) ccw
  line L3 (12, 3) -> (12, 28.25)
  arc A4 (12, 28.25) -> (9, 31.25) centre (9, 28.25) ccw
  line L4 (9, 31.25) -> (4.5, 31.25)
  arc A5 (4.5, 31.25) -> (4, 30.75) centre (4.5, 30.75) ccw
  line L5 (4, 30.75) -> (4, 15.625)
  line L6 (4, 15.625) -> (0, 15.625)
  line L7 (0, 15.625) -> (0, 30.75)
  arc A6 (0, 30.75) -> (-0.5, 31.25) centre (-0.5, 30.75) ccw
  line L8 (-0.5, 31.25) -> (-287, 31.25)
  arc A7 (-287, 31.25) -> (-287.5, 30.75) centre (-287, 30.75) ccw
  line L9 (-287.5, 30.75) -> (-287.5, 15.625)
  line L10 (-287.5, 15.625) -> (-291.5, 15.625)
  line L11 (-291.5, 15.625) -> (-291.5, 30.75)
component "Leg" placed x (1, 0, 0) y (0, 1, 0) z (0, 0, 1) at (0, 0, 0)
component "Leg" placed x (1, 0, 0) y (0, 1, 0) z (0, 0, 1) at (-291.5, 0, 0)
component "Table" placed x (1, 0, 0) y (0, 1, 0) z (0, 0, 1) at (0, 0, 0)
component "Support" placed x (1, 0, 0) y (0, 1, 0) z (0, 0, 1) at (0, 0, 0)
equation "main = 250 mm"
equation "d2 = main"
equation "d4 = Linear Dimension-3"
equation "d6 = Linear Dimension-4"
equation "d7 = halli"
equation "halli = 22 deg"
equation "d9 = front"
equation "legBreidd = main * 1.15"
equation "d21 = legBreidd"
equation "d22 = extraAtThBack"
equation "d25 = topHoles"
equation "d26 = AboveHoles"
equation "d31 = -( main / 5 )"
equation "supportHeight = main / 8"
equation "d33 = supportHeight"
equation "d46 = rettHorn"
equation "rettHorn = 90 deg"
equation "extraAtThBack = main / 19"
equation "AboveHoles = main / 8.34"
equation "topHoles = main / 10"
equation "kerf = 0.207 mm"
equation "front = main * 0.0623"
